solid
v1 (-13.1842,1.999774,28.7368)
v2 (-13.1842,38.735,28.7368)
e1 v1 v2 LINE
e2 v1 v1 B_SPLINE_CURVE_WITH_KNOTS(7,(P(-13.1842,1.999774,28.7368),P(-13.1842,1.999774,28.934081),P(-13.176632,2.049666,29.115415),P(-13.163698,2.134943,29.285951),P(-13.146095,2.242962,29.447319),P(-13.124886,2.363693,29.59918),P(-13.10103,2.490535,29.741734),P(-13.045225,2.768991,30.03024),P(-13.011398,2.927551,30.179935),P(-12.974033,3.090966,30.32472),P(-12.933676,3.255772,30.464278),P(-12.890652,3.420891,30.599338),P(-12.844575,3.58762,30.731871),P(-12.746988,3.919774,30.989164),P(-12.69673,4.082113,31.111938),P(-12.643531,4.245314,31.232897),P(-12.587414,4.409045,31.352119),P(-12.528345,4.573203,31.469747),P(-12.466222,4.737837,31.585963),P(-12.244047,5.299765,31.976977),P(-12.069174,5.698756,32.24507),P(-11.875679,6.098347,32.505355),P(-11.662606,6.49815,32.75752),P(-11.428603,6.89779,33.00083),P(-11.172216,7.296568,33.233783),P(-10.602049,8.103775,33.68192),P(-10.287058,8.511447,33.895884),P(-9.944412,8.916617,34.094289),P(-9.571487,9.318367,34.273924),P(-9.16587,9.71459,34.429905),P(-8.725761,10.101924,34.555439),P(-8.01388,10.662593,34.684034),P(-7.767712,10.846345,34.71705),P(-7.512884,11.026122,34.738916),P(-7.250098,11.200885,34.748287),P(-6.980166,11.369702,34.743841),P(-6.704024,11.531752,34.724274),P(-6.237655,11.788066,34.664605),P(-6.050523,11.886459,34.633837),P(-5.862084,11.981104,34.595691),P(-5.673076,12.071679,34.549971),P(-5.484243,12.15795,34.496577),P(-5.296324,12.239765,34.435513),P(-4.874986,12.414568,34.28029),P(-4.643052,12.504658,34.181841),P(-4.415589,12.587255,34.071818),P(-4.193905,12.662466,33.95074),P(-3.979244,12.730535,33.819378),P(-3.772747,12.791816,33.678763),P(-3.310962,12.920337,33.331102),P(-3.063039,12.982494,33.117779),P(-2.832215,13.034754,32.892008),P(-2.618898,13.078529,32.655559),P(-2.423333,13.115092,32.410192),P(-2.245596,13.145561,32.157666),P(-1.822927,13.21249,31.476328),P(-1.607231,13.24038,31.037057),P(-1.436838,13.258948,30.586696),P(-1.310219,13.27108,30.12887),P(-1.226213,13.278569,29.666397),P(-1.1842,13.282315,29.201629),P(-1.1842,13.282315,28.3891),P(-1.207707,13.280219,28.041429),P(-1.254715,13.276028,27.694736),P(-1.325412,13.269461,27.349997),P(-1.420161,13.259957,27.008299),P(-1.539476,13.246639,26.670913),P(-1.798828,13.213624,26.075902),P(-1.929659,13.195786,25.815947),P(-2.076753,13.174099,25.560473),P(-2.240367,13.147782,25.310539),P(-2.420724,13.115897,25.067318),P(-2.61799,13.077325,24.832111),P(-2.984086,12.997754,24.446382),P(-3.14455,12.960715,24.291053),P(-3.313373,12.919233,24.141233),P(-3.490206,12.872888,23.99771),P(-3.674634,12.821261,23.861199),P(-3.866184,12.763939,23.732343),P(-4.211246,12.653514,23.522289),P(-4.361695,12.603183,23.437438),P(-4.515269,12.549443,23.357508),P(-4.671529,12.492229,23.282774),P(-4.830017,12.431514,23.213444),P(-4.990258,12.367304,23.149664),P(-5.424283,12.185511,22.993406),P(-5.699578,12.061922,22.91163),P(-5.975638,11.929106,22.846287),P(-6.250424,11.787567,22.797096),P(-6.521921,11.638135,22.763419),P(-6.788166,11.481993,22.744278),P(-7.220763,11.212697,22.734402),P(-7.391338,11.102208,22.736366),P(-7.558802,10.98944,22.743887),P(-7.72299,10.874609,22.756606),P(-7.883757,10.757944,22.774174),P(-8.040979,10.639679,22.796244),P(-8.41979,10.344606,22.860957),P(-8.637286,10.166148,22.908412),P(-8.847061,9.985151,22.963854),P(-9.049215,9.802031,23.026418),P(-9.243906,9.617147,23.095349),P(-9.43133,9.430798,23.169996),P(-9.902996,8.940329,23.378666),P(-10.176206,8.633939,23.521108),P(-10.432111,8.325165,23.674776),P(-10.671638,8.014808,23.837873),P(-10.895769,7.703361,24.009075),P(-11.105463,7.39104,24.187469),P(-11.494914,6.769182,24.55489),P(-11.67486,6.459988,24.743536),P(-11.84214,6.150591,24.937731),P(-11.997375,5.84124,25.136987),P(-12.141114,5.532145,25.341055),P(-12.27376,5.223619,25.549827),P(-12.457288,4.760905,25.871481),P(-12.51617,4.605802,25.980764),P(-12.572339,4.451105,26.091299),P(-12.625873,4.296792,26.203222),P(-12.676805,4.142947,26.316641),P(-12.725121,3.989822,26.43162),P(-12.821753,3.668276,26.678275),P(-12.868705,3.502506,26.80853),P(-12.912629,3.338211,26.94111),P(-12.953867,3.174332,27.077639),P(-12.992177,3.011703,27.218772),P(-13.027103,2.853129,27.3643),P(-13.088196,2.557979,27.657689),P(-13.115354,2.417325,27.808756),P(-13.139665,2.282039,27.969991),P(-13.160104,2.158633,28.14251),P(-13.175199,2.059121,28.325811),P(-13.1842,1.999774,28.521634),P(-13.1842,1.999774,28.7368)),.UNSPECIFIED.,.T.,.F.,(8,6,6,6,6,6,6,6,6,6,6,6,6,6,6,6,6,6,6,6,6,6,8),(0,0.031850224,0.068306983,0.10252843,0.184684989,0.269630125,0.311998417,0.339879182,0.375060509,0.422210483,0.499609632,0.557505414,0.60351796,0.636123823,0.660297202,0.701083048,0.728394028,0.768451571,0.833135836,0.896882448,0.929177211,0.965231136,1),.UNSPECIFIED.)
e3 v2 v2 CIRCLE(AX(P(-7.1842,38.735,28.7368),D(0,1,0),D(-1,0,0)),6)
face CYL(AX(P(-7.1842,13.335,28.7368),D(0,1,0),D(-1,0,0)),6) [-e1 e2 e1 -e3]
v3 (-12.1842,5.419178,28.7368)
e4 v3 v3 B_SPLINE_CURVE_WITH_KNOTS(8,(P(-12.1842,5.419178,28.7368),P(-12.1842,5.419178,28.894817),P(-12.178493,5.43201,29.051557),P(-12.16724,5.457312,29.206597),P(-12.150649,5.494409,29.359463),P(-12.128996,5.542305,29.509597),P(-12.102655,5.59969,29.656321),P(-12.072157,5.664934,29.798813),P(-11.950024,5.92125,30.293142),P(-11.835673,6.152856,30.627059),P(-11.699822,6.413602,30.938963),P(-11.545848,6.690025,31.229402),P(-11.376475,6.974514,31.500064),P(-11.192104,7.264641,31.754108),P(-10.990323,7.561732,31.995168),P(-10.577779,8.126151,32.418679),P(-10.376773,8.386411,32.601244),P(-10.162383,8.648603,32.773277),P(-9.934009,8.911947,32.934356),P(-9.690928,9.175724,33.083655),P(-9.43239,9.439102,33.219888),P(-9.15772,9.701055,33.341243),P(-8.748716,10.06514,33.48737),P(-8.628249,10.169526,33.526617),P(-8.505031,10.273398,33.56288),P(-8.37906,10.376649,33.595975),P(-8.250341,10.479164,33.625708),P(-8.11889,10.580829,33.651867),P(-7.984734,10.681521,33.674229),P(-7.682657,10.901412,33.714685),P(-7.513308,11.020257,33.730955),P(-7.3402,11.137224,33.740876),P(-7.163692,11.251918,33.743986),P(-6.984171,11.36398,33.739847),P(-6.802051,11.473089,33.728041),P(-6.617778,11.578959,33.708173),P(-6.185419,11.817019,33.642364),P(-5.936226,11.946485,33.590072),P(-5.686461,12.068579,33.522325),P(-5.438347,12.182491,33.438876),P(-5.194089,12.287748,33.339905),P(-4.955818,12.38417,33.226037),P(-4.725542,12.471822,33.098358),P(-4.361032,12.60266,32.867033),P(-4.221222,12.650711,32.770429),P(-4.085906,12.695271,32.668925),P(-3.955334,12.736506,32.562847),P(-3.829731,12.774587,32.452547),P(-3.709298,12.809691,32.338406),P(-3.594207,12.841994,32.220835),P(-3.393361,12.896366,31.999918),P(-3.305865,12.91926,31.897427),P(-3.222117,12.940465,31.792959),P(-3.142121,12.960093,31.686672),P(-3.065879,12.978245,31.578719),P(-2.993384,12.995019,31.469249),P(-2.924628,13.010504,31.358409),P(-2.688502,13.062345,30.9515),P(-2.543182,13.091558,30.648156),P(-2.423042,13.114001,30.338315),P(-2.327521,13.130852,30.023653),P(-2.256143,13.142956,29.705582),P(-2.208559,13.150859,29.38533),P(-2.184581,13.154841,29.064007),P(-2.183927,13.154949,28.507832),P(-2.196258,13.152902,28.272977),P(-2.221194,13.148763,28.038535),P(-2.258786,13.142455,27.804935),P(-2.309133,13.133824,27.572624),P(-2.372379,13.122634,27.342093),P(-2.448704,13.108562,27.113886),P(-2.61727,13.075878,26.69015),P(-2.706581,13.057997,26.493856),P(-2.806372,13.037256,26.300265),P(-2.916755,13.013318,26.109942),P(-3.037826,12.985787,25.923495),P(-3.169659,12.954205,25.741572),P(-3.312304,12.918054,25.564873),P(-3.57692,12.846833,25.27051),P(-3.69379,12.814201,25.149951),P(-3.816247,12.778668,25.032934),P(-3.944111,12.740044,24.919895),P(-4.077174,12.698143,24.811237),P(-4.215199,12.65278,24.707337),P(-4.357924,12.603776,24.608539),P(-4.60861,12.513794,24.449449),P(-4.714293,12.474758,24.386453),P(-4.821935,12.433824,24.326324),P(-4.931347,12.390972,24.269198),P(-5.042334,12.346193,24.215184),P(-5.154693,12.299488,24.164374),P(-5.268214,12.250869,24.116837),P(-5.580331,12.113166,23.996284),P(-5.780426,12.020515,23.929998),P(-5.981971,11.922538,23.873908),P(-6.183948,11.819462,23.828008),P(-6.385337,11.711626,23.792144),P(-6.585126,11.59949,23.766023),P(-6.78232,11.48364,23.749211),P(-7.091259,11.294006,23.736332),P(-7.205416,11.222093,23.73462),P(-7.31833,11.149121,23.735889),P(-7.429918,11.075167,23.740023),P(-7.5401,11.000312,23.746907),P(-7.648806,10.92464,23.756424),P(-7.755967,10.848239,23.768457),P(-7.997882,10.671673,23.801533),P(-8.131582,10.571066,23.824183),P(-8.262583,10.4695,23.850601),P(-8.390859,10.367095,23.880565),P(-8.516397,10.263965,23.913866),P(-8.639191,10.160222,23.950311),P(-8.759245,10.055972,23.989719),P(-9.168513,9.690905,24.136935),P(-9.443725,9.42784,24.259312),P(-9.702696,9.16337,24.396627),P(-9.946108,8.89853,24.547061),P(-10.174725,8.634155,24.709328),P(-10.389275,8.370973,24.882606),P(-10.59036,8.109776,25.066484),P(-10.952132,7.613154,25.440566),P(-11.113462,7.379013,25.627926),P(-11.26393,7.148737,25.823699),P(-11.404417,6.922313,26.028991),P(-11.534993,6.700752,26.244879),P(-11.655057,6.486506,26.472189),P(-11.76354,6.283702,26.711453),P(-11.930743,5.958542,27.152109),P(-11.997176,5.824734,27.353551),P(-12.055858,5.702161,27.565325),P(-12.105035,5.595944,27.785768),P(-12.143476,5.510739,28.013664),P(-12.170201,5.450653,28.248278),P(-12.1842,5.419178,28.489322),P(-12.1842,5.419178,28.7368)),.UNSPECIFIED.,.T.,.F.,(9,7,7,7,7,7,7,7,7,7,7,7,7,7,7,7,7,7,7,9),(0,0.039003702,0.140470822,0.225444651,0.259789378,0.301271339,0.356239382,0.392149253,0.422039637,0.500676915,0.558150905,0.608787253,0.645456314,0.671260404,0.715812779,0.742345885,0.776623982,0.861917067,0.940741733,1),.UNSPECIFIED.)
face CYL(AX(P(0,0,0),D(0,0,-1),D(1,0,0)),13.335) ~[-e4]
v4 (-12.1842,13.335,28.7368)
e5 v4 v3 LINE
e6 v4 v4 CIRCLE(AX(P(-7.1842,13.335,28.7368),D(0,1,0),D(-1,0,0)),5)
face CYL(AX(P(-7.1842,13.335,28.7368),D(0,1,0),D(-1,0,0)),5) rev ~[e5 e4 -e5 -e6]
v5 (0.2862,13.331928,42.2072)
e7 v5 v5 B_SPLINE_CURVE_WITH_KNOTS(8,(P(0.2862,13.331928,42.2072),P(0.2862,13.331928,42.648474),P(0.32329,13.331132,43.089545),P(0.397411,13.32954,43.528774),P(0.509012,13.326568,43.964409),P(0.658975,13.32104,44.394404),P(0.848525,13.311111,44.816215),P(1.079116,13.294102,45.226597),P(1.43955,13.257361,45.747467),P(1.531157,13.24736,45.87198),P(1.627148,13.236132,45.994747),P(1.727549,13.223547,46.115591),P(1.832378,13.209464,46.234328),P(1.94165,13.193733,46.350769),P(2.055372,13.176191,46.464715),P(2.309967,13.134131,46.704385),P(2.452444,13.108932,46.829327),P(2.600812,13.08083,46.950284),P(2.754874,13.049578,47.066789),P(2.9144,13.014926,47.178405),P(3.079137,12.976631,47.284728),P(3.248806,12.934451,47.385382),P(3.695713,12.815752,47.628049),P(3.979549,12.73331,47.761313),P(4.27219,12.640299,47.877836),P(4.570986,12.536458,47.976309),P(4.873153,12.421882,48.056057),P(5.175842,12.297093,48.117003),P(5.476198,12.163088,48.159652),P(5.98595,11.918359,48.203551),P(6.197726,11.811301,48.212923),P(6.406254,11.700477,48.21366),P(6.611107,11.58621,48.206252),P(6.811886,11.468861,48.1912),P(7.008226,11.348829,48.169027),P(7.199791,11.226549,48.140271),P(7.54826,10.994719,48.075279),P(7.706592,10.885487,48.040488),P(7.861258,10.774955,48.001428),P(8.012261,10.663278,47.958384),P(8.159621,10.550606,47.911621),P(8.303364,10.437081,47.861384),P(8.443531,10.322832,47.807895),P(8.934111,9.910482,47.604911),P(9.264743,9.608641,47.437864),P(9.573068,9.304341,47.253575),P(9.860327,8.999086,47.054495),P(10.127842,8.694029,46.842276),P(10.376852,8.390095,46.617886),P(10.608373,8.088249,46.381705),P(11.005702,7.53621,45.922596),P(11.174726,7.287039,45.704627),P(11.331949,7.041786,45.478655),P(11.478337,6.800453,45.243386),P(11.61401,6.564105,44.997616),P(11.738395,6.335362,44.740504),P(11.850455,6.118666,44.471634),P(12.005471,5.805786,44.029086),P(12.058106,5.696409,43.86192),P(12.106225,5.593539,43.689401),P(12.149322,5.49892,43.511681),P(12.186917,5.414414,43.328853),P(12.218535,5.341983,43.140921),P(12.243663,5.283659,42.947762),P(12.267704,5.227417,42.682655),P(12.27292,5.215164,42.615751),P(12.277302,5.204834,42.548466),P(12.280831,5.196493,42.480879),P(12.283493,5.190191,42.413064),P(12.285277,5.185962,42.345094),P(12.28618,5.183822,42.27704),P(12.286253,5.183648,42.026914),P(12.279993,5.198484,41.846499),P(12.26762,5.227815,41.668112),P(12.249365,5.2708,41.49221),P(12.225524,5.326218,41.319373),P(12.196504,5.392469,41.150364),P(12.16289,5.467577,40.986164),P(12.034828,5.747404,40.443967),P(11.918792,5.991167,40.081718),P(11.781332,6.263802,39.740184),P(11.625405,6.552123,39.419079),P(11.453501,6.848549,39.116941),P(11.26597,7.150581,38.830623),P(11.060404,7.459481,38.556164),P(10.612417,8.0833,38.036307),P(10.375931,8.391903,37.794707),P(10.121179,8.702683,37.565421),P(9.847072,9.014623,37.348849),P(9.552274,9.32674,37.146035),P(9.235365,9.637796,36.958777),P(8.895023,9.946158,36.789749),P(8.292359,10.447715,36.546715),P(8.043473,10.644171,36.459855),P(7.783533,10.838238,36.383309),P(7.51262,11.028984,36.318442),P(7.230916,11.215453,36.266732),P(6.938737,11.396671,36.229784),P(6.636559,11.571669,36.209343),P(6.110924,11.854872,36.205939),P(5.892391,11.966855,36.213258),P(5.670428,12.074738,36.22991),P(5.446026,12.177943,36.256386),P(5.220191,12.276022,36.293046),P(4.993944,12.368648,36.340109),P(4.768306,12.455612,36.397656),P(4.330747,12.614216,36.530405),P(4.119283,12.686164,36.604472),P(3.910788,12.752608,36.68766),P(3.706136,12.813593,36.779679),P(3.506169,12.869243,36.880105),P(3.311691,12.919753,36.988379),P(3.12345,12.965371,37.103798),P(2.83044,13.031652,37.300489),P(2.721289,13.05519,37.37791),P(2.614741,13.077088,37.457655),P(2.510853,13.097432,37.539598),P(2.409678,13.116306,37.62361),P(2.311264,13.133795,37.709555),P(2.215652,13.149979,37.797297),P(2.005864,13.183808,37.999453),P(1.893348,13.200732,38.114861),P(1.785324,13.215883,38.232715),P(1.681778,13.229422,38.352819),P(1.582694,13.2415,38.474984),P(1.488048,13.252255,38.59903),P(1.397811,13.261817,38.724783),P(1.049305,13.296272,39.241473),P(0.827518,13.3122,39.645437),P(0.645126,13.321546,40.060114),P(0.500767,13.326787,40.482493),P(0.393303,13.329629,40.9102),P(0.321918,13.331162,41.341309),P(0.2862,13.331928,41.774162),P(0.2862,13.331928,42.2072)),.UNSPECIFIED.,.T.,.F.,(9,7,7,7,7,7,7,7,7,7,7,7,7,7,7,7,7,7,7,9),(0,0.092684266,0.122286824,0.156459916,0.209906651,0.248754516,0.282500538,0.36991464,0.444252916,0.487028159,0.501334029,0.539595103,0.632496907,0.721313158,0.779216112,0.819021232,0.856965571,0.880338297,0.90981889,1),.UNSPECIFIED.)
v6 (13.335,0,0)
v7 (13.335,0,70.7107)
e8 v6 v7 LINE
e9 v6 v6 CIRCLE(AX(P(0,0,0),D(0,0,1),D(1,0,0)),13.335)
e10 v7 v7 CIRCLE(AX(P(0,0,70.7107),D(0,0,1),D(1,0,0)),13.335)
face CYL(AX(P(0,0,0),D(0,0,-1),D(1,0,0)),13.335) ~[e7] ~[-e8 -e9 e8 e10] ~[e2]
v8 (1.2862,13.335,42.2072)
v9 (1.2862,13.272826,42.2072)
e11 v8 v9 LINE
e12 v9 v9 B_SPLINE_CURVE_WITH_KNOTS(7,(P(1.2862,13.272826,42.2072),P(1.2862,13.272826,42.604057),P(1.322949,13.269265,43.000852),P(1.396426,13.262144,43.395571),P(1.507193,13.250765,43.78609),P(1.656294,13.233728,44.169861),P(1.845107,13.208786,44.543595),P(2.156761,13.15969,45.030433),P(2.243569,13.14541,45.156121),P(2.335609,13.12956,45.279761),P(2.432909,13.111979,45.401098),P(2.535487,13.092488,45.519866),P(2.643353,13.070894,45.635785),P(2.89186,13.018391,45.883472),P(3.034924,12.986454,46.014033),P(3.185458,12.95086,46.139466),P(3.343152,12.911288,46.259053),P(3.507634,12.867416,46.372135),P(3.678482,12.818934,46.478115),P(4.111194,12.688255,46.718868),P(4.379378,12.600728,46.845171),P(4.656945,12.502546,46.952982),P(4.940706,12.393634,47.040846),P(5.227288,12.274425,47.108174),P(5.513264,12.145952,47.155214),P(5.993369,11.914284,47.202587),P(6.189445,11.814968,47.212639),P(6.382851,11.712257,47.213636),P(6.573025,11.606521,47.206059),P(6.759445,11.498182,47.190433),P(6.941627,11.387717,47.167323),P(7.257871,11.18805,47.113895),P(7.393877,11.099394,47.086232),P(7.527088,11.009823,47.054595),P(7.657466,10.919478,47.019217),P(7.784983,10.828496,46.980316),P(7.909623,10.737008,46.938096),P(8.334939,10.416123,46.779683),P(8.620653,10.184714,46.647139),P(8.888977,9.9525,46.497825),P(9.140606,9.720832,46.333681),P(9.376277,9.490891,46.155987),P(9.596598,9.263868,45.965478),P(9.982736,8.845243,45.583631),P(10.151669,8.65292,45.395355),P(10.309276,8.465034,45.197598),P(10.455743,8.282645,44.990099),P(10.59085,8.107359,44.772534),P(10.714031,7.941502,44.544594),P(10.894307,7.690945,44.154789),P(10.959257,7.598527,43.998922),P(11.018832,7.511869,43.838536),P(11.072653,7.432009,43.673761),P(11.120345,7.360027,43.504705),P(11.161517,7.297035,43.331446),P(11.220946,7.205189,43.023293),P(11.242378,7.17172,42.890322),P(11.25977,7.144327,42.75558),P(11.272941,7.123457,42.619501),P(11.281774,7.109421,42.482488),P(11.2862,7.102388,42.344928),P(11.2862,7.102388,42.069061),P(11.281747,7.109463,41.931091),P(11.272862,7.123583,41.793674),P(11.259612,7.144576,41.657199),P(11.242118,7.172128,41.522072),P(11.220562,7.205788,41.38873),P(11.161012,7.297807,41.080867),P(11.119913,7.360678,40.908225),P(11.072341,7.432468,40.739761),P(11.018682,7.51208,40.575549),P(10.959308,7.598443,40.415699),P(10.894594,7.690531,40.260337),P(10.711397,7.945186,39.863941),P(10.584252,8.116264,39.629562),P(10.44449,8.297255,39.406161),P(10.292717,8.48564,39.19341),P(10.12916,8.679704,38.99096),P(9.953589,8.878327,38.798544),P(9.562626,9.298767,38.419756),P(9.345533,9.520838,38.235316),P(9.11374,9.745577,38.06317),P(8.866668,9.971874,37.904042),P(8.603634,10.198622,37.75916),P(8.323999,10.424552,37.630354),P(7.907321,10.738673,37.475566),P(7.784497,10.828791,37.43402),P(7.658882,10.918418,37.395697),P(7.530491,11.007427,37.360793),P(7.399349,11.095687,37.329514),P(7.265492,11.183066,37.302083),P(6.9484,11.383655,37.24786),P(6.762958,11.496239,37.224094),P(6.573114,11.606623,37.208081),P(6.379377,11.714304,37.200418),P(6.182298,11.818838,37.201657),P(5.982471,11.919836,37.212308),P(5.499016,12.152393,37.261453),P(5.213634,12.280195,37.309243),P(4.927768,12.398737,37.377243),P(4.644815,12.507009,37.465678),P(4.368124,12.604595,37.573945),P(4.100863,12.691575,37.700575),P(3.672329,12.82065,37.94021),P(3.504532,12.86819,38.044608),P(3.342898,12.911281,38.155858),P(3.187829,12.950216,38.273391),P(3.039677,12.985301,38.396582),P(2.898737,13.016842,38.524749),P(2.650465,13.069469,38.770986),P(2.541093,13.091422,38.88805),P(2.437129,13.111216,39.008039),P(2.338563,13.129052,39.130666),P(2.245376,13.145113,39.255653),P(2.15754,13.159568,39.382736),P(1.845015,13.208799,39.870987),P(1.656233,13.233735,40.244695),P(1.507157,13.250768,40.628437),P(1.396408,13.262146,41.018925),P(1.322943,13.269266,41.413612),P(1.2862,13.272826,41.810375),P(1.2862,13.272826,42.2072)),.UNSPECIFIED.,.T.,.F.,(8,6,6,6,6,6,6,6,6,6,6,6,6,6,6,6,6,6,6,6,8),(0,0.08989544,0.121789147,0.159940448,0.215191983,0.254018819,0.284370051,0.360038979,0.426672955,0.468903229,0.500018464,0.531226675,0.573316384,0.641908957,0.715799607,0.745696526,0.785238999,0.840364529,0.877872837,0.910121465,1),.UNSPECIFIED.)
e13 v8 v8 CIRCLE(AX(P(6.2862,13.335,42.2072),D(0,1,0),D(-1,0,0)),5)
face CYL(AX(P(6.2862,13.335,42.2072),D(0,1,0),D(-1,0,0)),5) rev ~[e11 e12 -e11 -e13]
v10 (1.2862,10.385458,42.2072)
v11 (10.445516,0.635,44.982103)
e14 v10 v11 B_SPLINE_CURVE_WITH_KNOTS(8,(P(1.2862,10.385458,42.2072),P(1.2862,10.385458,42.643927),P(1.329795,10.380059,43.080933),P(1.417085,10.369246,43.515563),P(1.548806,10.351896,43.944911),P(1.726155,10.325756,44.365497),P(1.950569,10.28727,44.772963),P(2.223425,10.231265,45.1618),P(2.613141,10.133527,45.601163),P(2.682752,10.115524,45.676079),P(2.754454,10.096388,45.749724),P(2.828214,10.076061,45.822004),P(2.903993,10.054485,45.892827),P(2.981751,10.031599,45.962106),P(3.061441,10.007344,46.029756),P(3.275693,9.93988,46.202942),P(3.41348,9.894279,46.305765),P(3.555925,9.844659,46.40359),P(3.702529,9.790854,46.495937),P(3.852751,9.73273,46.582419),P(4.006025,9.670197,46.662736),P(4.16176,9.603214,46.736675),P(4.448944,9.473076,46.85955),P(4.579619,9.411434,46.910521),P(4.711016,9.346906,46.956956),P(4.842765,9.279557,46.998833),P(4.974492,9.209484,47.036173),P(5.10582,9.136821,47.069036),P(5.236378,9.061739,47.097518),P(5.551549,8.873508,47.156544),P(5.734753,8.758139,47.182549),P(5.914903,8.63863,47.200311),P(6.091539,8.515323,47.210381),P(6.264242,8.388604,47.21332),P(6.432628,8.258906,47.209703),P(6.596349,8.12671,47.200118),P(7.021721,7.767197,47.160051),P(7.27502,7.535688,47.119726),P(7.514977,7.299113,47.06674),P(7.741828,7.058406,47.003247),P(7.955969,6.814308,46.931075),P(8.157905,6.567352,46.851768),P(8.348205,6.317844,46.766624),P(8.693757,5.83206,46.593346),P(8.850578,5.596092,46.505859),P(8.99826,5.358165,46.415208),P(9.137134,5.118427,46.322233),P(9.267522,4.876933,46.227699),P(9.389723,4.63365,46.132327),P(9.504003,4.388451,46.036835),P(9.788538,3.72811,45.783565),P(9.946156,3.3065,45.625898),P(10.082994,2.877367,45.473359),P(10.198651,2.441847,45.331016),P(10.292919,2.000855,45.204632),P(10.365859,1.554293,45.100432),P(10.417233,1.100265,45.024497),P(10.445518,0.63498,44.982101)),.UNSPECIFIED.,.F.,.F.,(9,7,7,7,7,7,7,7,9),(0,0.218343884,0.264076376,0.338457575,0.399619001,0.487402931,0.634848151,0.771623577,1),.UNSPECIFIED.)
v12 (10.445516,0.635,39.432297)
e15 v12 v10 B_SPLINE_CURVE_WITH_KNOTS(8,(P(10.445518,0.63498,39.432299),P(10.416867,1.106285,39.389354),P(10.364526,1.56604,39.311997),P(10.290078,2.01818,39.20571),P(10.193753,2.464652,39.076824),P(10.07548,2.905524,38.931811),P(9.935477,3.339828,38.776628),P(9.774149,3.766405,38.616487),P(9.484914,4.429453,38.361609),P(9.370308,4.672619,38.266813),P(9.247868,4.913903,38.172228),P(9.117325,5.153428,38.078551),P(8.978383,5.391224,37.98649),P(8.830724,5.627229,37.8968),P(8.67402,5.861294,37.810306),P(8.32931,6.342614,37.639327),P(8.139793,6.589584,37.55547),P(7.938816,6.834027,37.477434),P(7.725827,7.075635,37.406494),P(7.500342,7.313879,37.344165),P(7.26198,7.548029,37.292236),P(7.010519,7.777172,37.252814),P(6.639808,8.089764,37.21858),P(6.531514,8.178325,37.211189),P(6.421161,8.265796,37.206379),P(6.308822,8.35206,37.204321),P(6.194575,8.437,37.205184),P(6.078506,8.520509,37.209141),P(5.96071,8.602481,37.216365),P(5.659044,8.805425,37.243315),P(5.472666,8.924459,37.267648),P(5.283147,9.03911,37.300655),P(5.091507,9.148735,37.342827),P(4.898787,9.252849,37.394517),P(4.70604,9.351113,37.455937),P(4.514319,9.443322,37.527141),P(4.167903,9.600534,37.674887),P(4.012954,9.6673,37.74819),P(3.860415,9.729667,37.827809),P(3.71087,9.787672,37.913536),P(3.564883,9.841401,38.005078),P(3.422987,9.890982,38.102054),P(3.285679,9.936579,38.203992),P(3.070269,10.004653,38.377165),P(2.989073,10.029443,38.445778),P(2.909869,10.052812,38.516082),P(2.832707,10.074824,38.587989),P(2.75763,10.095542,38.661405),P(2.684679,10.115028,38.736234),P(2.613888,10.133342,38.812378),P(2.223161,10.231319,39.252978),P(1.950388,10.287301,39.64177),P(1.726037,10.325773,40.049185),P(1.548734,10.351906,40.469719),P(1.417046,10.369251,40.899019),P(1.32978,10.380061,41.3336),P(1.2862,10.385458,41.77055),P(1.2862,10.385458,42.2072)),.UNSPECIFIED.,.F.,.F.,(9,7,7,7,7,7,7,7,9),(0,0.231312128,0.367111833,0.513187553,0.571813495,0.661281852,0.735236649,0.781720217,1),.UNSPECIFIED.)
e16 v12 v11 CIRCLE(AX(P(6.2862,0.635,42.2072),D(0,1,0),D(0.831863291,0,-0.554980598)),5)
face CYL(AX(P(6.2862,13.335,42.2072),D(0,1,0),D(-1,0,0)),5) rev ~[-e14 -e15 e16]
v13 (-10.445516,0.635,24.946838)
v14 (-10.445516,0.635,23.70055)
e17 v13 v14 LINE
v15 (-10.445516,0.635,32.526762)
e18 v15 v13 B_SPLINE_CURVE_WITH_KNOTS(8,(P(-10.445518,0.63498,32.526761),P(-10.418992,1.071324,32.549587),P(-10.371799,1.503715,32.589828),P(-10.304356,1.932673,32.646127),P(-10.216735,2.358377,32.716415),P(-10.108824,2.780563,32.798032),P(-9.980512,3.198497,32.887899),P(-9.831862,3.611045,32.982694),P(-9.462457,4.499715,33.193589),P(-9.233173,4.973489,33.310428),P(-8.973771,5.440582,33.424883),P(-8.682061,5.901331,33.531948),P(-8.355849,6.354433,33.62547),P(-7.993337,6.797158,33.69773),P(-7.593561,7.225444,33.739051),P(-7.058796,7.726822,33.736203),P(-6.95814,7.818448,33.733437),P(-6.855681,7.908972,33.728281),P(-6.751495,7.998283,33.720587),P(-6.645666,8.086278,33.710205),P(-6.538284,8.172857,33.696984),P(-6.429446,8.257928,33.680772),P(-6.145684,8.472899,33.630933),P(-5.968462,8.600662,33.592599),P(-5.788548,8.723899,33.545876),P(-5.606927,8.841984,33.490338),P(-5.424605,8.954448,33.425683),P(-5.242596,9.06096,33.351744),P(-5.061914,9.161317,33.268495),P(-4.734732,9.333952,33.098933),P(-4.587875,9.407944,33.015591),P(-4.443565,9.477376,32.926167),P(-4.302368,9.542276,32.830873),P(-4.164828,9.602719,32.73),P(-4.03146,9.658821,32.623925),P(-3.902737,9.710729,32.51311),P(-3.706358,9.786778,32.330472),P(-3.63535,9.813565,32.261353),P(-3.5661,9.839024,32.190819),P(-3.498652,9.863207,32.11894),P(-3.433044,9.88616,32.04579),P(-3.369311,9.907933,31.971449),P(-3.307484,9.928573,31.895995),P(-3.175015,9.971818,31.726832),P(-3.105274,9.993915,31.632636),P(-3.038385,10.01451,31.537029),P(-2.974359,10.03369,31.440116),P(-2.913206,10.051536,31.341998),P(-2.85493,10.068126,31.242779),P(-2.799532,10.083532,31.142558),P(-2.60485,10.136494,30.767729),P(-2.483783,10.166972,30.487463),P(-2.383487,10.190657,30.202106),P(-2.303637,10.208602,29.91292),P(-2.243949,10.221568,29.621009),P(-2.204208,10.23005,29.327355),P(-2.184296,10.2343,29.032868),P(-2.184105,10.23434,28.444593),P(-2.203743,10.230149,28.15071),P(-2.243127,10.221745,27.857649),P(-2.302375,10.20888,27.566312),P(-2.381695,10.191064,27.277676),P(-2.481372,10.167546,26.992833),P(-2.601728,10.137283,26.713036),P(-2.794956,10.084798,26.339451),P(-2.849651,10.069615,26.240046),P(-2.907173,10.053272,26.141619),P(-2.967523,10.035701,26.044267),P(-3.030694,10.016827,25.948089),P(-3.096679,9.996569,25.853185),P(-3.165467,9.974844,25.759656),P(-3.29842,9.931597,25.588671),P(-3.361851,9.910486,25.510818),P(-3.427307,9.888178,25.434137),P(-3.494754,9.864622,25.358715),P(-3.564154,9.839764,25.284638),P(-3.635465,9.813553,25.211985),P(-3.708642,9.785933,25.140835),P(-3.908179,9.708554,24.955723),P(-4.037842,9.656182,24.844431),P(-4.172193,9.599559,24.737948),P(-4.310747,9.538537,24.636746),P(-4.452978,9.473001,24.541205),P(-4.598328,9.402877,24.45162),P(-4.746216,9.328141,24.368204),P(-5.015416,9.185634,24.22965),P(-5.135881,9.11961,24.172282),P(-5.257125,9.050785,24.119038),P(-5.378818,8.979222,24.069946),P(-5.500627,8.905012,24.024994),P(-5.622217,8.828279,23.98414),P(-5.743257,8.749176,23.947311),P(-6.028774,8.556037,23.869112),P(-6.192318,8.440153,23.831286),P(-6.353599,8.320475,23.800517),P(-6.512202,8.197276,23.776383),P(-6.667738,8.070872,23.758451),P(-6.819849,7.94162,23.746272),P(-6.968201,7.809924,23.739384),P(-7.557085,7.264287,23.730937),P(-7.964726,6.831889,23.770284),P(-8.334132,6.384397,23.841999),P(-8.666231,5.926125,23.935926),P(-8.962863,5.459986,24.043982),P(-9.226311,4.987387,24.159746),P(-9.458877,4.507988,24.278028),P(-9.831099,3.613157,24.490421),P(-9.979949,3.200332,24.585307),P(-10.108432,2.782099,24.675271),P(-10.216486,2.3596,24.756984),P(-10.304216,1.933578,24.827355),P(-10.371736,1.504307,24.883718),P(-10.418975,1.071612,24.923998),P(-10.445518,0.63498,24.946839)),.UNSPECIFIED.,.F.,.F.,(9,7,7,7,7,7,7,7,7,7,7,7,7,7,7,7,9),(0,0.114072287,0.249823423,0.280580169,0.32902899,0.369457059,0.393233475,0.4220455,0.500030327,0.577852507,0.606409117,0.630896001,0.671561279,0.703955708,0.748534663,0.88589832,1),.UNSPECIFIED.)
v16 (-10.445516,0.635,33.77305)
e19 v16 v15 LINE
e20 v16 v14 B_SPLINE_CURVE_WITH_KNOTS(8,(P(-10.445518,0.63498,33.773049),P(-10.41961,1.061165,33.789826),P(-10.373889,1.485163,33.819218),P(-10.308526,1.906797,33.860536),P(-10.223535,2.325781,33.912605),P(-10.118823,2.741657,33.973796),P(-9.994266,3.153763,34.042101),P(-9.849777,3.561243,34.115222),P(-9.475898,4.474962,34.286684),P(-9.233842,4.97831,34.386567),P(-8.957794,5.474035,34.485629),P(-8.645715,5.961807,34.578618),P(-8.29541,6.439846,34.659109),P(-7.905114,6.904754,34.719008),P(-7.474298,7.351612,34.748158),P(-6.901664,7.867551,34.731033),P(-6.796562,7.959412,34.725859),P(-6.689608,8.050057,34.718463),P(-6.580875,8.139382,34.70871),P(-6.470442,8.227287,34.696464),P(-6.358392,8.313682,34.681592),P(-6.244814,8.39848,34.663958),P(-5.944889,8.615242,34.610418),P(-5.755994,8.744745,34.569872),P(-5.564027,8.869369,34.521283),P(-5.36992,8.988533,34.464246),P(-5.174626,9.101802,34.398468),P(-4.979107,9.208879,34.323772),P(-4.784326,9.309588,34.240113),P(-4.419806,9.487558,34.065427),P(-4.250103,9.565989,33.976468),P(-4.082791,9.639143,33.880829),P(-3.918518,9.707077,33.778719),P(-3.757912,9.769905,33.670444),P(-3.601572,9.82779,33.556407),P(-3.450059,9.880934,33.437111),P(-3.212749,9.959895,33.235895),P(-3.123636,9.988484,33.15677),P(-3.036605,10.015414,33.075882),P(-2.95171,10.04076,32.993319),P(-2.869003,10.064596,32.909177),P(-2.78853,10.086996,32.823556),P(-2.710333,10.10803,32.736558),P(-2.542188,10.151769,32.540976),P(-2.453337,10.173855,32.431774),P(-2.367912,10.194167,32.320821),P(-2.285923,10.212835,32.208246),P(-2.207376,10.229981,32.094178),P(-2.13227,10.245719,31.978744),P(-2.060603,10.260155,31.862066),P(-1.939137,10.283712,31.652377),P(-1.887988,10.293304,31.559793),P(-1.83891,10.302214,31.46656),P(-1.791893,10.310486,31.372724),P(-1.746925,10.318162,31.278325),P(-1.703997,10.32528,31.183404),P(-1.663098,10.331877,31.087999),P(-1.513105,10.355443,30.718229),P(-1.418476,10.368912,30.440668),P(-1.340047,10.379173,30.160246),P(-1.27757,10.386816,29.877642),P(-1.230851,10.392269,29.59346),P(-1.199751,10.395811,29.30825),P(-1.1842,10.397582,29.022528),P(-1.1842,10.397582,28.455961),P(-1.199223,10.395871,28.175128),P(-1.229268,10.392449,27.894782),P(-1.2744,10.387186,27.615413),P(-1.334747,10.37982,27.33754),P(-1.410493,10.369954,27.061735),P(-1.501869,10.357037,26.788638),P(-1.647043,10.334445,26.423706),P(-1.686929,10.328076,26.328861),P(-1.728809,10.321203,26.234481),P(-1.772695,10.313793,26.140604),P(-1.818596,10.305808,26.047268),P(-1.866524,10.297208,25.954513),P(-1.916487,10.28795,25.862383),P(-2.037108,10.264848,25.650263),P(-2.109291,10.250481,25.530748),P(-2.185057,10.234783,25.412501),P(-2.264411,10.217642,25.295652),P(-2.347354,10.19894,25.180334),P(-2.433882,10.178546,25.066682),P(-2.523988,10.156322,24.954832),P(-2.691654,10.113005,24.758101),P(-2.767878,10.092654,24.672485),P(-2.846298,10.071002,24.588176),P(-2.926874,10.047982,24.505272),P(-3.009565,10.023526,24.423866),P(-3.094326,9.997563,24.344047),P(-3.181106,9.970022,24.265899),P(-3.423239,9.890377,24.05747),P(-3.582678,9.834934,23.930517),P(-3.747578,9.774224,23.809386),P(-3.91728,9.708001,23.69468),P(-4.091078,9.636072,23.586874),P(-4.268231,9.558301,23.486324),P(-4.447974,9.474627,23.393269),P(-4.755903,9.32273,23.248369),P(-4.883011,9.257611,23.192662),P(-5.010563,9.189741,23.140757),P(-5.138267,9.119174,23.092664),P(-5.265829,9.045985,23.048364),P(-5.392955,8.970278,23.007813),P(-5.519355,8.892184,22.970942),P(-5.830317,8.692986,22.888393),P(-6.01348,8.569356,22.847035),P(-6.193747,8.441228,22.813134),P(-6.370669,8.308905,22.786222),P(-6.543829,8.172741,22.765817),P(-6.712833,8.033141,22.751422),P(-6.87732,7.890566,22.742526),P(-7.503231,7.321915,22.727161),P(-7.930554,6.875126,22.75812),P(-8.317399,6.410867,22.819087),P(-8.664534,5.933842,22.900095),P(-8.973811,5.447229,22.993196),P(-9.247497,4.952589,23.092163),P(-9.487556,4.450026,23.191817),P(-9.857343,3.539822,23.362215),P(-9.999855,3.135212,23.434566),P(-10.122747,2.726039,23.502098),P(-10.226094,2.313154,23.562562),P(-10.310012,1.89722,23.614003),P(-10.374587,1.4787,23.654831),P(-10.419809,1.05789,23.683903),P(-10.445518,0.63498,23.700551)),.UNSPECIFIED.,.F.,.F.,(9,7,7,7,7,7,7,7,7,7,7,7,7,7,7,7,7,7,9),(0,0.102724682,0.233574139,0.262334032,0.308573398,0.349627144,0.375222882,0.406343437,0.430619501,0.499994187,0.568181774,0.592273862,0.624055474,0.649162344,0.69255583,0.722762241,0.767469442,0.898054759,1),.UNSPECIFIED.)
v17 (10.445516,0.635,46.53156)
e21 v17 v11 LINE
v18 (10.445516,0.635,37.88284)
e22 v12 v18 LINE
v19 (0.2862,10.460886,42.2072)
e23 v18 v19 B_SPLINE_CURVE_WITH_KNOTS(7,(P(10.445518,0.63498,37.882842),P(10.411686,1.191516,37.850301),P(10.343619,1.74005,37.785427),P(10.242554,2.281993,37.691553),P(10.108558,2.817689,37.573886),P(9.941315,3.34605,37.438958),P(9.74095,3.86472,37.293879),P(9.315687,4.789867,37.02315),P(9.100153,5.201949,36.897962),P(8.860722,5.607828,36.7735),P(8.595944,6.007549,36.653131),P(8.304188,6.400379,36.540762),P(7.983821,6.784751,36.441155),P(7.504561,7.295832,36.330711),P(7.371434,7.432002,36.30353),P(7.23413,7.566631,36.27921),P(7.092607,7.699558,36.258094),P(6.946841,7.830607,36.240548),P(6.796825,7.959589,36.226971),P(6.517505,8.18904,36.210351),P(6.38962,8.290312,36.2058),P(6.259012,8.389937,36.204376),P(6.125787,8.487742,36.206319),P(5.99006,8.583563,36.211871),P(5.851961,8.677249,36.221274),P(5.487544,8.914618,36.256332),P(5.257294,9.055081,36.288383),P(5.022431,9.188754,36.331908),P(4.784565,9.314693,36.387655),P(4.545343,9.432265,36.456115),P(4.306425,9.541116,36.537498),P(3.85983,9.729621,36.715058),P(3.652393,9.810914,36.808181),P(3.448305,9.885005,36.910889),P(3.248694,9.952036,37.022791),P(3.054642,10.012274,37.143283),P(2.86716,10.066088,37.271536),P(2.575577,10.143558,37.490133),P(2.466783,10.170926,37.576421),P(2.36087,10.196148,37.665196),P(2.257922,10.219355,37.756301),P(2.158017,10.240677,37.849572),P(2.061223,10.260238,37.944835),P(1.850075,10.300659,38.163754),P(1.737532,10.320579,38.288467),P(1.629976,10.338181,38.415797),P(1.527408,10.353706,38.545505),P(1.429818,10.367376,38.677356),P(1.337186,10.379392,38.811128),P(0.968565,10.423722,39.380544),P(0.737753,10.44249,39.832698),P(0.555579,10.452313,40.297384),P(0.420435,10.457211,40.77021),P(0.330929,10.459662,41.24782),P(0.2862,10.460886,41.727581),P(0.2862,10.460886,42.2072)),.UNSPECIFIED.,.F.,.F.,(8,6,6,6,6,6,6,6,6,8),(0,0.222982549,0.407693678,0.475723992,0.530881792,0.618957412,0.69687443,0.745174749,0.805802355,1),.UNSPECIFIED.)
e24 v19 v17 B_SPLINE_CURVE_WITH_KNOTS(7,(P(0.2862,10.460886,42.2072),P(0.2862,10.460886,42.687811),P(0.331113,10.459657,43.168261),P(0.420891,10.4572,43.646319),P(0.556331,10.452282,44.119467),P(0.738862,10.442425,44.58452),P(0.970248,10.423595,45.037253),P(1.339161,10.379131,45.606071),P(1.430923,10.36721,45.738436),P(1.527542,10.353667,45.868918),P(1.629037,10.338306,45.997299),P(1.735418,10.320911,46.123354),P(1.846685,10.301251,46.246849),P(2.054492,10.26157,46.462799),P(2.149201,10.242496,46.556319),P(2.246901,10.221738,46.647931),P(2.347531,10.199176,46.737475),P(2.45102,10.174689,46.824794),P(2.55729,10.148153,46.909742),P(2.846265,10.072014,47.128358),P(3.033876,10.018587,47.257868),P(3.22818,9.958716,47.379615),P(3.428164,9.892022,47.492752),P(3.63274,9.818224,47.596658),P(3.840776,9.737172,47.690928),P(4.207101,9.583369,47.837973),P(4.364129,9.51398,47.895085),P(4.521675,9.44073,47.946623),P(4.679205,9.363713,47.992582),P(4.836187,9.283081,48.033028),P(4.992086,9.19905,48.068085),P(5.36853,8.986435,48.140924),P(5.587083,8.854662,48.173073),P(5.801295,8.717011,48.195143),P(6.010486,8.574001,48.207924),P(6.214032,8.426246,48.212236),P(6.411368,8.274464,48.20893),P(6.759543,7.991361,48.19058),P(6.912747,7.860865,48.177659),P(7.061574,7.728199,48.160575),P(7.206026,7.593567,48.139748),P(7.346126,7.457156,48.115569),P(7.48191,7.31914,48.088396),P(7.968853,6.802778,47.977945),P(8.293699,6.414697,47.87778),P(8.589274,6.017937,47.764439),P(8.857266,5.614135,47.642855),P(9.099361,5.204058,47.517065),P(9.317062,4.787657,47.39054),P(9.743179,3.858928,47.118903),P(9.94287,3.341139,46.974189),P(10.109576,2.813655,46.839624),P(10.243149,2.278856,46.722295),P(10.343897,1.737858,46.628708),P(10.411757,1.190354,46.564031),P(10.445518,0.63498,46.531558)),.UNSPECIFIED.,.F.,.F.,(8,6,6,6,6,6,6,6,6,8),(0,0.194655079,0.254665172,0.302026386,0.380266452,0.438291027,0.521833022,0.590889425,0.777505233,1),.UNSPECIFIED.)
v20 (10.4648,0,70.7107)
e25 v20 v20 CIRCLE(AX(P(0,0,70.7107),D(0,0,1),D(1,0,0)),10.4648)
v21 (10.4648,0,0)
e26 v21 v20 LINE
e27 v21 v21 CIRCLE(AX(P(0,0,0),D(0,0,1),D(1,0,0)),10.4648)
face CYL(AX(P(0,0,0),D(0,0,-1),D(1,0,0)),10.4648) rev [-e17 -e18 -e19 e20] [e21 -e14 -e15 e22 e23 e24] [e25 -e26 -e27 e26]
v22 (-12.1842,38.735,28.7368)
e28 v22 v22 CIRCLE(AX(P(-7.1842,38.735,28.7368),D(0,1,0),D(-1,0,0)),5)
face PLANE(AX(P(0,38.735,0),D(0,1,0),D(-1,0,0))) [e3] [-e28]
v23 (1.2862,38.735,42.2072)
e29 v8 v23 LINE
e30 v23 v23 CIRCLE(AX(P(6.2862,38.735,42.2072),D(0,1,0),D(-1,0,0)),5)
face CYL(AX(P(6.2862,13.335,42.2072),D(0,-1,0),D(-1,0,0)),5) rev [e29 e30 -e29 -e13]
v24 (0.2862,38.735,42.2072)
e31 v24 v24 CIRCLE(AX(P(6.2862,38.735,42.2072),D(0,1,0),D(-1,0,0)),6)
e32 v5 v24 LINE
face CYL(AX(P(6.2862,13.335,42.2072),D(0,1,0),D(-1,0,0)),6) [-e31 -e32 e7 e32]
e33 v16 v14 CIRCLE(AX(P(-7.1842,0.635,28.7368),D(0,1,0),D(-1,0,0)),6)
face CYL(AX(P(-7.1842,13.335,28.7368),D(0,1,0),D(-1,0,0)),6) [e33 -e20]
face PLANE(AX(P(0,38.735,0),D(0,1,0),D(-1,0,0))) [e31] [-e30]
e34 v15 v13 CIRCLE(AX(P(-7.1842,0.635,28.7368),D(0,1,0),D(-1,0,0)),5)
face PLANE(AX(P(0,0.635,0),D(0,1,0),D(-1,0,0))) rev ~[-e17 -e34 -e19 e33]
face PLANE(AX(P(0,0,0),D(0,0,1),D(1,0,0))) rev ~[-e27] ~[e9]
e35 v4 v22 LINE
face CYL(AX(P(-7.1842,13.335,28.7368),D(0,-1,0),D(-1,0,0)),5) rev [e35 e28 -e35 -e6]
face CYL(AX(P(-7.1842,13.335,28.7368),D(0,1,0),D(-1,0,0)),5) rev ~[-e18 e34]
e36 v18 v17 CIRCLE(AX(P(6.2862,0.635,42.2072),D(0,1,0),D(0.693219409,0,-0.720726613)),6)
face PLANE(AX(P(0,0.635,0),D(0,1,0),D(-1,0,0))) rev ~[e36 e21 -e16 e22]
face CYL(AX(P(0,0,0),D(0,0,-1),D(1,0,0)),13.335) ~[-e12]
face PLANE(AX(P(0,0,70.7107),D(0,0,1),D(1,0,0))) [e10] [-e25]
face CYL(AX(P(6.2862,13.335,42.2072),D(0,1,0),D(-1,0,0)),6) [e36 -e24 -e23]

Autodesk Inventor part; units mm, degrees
ref_plane "Start Plane" through (0, 0, 0) normal (0, 0, 1) x (1, 0, 0)
ref_plane "End Plane" through (0, 0, 70.7107) normal (0, 0, 1) x (1, 0, 0)
sketch "Sketch" plane through (0, 0, 0) normal (0, 0, 1) x (1, 0, 0)
  circle A0 centre (0, 0) radius 10.4648
  circle A1 centre (0, 0) radius 13.335
  dimension "d0" = 26.67
  dimension "d1" = 2.8702
extrude "Body" add sketch "Sketch" along normal up to surface (70.7107 mm away) from surface at 0
sketch "Sketch3" plane through (0, 0, 0) normal (0, 0, 1) x (1, 0, 0)
  line L0 (0, 0) -> (10, 0)
ref_plane "Work Plane3" through (0, 0, 0) normal (0, -1, 0) x (1, 0, 0)
ref_plane "Work Plane4" through (0, 13.335, 0) normal (0, 1, 0) x (-1, 0, 0)
sketch "Sketch7" plane through (0, 13.335, 0) normal (0, 1, 0) x (-1, 0, 0)
  line L0 (-20.6433, 0) -> (18.9981, 0) construction
  line L1 (0, -14.1421) -> (0, 84.8528) construction
  line L2 (0, 0) -> (17.9605, 17.9605)
  line L3 (17.9605, 17.9605) -> (7.1842, 28.7368) construction
  circle A0 centre (7.1842, 28.7368) radius 5
  line L4 (7.1842, 28.7368) -> (-6.2862, 42.2072) construction
  circle A1 centre (7.1842, 28.7368) radius 6
  circle A2 centre (-6.2862, 42.2072) radius 5
  circle A3 centre (-6.2862, 42.2072) radius 6
  dimension "d23" = 45
  dimension "d24" = 25.4
  dimension "d25" = 15.24
  dimension "d26" = 19.05
  dimension "d28" = 12
  dimension "d29" = 10
extrude "Extrusion3" add sketch "Sketch7" along normal blind 25.4 and the other way blind 12.7
sketch "Sketch4" plane through (0, 0, 0) normal (0, -1, 0) x (1, 0, 0)
  line L0 (-2, 0) -> (12, 0) projected
  line L1 (-2, 70.7107) -> (12, 70.7107) projected
  dimension "d7" = 70.7107
equation "\"d0\" = G_H"
equation "\"d1\" = G_T"
equation "\"d2\" = G_L"
equation "\"G_H\" = 26.67"
equation "\"G_T\" = 2.8702"
equation "\"G_L\" = d7"
equation "\"G_OFFSET_START\" = 0"
equation "\"G_OFFSET_END\" = 0"
equation "\"d5\" = G_OFFSET_END + B_L"
equation "\"B_L\" = 70.71068"
properties part number "ANSI - 3/4 x 0.113 - 2.784" material "Steel, Mild"
